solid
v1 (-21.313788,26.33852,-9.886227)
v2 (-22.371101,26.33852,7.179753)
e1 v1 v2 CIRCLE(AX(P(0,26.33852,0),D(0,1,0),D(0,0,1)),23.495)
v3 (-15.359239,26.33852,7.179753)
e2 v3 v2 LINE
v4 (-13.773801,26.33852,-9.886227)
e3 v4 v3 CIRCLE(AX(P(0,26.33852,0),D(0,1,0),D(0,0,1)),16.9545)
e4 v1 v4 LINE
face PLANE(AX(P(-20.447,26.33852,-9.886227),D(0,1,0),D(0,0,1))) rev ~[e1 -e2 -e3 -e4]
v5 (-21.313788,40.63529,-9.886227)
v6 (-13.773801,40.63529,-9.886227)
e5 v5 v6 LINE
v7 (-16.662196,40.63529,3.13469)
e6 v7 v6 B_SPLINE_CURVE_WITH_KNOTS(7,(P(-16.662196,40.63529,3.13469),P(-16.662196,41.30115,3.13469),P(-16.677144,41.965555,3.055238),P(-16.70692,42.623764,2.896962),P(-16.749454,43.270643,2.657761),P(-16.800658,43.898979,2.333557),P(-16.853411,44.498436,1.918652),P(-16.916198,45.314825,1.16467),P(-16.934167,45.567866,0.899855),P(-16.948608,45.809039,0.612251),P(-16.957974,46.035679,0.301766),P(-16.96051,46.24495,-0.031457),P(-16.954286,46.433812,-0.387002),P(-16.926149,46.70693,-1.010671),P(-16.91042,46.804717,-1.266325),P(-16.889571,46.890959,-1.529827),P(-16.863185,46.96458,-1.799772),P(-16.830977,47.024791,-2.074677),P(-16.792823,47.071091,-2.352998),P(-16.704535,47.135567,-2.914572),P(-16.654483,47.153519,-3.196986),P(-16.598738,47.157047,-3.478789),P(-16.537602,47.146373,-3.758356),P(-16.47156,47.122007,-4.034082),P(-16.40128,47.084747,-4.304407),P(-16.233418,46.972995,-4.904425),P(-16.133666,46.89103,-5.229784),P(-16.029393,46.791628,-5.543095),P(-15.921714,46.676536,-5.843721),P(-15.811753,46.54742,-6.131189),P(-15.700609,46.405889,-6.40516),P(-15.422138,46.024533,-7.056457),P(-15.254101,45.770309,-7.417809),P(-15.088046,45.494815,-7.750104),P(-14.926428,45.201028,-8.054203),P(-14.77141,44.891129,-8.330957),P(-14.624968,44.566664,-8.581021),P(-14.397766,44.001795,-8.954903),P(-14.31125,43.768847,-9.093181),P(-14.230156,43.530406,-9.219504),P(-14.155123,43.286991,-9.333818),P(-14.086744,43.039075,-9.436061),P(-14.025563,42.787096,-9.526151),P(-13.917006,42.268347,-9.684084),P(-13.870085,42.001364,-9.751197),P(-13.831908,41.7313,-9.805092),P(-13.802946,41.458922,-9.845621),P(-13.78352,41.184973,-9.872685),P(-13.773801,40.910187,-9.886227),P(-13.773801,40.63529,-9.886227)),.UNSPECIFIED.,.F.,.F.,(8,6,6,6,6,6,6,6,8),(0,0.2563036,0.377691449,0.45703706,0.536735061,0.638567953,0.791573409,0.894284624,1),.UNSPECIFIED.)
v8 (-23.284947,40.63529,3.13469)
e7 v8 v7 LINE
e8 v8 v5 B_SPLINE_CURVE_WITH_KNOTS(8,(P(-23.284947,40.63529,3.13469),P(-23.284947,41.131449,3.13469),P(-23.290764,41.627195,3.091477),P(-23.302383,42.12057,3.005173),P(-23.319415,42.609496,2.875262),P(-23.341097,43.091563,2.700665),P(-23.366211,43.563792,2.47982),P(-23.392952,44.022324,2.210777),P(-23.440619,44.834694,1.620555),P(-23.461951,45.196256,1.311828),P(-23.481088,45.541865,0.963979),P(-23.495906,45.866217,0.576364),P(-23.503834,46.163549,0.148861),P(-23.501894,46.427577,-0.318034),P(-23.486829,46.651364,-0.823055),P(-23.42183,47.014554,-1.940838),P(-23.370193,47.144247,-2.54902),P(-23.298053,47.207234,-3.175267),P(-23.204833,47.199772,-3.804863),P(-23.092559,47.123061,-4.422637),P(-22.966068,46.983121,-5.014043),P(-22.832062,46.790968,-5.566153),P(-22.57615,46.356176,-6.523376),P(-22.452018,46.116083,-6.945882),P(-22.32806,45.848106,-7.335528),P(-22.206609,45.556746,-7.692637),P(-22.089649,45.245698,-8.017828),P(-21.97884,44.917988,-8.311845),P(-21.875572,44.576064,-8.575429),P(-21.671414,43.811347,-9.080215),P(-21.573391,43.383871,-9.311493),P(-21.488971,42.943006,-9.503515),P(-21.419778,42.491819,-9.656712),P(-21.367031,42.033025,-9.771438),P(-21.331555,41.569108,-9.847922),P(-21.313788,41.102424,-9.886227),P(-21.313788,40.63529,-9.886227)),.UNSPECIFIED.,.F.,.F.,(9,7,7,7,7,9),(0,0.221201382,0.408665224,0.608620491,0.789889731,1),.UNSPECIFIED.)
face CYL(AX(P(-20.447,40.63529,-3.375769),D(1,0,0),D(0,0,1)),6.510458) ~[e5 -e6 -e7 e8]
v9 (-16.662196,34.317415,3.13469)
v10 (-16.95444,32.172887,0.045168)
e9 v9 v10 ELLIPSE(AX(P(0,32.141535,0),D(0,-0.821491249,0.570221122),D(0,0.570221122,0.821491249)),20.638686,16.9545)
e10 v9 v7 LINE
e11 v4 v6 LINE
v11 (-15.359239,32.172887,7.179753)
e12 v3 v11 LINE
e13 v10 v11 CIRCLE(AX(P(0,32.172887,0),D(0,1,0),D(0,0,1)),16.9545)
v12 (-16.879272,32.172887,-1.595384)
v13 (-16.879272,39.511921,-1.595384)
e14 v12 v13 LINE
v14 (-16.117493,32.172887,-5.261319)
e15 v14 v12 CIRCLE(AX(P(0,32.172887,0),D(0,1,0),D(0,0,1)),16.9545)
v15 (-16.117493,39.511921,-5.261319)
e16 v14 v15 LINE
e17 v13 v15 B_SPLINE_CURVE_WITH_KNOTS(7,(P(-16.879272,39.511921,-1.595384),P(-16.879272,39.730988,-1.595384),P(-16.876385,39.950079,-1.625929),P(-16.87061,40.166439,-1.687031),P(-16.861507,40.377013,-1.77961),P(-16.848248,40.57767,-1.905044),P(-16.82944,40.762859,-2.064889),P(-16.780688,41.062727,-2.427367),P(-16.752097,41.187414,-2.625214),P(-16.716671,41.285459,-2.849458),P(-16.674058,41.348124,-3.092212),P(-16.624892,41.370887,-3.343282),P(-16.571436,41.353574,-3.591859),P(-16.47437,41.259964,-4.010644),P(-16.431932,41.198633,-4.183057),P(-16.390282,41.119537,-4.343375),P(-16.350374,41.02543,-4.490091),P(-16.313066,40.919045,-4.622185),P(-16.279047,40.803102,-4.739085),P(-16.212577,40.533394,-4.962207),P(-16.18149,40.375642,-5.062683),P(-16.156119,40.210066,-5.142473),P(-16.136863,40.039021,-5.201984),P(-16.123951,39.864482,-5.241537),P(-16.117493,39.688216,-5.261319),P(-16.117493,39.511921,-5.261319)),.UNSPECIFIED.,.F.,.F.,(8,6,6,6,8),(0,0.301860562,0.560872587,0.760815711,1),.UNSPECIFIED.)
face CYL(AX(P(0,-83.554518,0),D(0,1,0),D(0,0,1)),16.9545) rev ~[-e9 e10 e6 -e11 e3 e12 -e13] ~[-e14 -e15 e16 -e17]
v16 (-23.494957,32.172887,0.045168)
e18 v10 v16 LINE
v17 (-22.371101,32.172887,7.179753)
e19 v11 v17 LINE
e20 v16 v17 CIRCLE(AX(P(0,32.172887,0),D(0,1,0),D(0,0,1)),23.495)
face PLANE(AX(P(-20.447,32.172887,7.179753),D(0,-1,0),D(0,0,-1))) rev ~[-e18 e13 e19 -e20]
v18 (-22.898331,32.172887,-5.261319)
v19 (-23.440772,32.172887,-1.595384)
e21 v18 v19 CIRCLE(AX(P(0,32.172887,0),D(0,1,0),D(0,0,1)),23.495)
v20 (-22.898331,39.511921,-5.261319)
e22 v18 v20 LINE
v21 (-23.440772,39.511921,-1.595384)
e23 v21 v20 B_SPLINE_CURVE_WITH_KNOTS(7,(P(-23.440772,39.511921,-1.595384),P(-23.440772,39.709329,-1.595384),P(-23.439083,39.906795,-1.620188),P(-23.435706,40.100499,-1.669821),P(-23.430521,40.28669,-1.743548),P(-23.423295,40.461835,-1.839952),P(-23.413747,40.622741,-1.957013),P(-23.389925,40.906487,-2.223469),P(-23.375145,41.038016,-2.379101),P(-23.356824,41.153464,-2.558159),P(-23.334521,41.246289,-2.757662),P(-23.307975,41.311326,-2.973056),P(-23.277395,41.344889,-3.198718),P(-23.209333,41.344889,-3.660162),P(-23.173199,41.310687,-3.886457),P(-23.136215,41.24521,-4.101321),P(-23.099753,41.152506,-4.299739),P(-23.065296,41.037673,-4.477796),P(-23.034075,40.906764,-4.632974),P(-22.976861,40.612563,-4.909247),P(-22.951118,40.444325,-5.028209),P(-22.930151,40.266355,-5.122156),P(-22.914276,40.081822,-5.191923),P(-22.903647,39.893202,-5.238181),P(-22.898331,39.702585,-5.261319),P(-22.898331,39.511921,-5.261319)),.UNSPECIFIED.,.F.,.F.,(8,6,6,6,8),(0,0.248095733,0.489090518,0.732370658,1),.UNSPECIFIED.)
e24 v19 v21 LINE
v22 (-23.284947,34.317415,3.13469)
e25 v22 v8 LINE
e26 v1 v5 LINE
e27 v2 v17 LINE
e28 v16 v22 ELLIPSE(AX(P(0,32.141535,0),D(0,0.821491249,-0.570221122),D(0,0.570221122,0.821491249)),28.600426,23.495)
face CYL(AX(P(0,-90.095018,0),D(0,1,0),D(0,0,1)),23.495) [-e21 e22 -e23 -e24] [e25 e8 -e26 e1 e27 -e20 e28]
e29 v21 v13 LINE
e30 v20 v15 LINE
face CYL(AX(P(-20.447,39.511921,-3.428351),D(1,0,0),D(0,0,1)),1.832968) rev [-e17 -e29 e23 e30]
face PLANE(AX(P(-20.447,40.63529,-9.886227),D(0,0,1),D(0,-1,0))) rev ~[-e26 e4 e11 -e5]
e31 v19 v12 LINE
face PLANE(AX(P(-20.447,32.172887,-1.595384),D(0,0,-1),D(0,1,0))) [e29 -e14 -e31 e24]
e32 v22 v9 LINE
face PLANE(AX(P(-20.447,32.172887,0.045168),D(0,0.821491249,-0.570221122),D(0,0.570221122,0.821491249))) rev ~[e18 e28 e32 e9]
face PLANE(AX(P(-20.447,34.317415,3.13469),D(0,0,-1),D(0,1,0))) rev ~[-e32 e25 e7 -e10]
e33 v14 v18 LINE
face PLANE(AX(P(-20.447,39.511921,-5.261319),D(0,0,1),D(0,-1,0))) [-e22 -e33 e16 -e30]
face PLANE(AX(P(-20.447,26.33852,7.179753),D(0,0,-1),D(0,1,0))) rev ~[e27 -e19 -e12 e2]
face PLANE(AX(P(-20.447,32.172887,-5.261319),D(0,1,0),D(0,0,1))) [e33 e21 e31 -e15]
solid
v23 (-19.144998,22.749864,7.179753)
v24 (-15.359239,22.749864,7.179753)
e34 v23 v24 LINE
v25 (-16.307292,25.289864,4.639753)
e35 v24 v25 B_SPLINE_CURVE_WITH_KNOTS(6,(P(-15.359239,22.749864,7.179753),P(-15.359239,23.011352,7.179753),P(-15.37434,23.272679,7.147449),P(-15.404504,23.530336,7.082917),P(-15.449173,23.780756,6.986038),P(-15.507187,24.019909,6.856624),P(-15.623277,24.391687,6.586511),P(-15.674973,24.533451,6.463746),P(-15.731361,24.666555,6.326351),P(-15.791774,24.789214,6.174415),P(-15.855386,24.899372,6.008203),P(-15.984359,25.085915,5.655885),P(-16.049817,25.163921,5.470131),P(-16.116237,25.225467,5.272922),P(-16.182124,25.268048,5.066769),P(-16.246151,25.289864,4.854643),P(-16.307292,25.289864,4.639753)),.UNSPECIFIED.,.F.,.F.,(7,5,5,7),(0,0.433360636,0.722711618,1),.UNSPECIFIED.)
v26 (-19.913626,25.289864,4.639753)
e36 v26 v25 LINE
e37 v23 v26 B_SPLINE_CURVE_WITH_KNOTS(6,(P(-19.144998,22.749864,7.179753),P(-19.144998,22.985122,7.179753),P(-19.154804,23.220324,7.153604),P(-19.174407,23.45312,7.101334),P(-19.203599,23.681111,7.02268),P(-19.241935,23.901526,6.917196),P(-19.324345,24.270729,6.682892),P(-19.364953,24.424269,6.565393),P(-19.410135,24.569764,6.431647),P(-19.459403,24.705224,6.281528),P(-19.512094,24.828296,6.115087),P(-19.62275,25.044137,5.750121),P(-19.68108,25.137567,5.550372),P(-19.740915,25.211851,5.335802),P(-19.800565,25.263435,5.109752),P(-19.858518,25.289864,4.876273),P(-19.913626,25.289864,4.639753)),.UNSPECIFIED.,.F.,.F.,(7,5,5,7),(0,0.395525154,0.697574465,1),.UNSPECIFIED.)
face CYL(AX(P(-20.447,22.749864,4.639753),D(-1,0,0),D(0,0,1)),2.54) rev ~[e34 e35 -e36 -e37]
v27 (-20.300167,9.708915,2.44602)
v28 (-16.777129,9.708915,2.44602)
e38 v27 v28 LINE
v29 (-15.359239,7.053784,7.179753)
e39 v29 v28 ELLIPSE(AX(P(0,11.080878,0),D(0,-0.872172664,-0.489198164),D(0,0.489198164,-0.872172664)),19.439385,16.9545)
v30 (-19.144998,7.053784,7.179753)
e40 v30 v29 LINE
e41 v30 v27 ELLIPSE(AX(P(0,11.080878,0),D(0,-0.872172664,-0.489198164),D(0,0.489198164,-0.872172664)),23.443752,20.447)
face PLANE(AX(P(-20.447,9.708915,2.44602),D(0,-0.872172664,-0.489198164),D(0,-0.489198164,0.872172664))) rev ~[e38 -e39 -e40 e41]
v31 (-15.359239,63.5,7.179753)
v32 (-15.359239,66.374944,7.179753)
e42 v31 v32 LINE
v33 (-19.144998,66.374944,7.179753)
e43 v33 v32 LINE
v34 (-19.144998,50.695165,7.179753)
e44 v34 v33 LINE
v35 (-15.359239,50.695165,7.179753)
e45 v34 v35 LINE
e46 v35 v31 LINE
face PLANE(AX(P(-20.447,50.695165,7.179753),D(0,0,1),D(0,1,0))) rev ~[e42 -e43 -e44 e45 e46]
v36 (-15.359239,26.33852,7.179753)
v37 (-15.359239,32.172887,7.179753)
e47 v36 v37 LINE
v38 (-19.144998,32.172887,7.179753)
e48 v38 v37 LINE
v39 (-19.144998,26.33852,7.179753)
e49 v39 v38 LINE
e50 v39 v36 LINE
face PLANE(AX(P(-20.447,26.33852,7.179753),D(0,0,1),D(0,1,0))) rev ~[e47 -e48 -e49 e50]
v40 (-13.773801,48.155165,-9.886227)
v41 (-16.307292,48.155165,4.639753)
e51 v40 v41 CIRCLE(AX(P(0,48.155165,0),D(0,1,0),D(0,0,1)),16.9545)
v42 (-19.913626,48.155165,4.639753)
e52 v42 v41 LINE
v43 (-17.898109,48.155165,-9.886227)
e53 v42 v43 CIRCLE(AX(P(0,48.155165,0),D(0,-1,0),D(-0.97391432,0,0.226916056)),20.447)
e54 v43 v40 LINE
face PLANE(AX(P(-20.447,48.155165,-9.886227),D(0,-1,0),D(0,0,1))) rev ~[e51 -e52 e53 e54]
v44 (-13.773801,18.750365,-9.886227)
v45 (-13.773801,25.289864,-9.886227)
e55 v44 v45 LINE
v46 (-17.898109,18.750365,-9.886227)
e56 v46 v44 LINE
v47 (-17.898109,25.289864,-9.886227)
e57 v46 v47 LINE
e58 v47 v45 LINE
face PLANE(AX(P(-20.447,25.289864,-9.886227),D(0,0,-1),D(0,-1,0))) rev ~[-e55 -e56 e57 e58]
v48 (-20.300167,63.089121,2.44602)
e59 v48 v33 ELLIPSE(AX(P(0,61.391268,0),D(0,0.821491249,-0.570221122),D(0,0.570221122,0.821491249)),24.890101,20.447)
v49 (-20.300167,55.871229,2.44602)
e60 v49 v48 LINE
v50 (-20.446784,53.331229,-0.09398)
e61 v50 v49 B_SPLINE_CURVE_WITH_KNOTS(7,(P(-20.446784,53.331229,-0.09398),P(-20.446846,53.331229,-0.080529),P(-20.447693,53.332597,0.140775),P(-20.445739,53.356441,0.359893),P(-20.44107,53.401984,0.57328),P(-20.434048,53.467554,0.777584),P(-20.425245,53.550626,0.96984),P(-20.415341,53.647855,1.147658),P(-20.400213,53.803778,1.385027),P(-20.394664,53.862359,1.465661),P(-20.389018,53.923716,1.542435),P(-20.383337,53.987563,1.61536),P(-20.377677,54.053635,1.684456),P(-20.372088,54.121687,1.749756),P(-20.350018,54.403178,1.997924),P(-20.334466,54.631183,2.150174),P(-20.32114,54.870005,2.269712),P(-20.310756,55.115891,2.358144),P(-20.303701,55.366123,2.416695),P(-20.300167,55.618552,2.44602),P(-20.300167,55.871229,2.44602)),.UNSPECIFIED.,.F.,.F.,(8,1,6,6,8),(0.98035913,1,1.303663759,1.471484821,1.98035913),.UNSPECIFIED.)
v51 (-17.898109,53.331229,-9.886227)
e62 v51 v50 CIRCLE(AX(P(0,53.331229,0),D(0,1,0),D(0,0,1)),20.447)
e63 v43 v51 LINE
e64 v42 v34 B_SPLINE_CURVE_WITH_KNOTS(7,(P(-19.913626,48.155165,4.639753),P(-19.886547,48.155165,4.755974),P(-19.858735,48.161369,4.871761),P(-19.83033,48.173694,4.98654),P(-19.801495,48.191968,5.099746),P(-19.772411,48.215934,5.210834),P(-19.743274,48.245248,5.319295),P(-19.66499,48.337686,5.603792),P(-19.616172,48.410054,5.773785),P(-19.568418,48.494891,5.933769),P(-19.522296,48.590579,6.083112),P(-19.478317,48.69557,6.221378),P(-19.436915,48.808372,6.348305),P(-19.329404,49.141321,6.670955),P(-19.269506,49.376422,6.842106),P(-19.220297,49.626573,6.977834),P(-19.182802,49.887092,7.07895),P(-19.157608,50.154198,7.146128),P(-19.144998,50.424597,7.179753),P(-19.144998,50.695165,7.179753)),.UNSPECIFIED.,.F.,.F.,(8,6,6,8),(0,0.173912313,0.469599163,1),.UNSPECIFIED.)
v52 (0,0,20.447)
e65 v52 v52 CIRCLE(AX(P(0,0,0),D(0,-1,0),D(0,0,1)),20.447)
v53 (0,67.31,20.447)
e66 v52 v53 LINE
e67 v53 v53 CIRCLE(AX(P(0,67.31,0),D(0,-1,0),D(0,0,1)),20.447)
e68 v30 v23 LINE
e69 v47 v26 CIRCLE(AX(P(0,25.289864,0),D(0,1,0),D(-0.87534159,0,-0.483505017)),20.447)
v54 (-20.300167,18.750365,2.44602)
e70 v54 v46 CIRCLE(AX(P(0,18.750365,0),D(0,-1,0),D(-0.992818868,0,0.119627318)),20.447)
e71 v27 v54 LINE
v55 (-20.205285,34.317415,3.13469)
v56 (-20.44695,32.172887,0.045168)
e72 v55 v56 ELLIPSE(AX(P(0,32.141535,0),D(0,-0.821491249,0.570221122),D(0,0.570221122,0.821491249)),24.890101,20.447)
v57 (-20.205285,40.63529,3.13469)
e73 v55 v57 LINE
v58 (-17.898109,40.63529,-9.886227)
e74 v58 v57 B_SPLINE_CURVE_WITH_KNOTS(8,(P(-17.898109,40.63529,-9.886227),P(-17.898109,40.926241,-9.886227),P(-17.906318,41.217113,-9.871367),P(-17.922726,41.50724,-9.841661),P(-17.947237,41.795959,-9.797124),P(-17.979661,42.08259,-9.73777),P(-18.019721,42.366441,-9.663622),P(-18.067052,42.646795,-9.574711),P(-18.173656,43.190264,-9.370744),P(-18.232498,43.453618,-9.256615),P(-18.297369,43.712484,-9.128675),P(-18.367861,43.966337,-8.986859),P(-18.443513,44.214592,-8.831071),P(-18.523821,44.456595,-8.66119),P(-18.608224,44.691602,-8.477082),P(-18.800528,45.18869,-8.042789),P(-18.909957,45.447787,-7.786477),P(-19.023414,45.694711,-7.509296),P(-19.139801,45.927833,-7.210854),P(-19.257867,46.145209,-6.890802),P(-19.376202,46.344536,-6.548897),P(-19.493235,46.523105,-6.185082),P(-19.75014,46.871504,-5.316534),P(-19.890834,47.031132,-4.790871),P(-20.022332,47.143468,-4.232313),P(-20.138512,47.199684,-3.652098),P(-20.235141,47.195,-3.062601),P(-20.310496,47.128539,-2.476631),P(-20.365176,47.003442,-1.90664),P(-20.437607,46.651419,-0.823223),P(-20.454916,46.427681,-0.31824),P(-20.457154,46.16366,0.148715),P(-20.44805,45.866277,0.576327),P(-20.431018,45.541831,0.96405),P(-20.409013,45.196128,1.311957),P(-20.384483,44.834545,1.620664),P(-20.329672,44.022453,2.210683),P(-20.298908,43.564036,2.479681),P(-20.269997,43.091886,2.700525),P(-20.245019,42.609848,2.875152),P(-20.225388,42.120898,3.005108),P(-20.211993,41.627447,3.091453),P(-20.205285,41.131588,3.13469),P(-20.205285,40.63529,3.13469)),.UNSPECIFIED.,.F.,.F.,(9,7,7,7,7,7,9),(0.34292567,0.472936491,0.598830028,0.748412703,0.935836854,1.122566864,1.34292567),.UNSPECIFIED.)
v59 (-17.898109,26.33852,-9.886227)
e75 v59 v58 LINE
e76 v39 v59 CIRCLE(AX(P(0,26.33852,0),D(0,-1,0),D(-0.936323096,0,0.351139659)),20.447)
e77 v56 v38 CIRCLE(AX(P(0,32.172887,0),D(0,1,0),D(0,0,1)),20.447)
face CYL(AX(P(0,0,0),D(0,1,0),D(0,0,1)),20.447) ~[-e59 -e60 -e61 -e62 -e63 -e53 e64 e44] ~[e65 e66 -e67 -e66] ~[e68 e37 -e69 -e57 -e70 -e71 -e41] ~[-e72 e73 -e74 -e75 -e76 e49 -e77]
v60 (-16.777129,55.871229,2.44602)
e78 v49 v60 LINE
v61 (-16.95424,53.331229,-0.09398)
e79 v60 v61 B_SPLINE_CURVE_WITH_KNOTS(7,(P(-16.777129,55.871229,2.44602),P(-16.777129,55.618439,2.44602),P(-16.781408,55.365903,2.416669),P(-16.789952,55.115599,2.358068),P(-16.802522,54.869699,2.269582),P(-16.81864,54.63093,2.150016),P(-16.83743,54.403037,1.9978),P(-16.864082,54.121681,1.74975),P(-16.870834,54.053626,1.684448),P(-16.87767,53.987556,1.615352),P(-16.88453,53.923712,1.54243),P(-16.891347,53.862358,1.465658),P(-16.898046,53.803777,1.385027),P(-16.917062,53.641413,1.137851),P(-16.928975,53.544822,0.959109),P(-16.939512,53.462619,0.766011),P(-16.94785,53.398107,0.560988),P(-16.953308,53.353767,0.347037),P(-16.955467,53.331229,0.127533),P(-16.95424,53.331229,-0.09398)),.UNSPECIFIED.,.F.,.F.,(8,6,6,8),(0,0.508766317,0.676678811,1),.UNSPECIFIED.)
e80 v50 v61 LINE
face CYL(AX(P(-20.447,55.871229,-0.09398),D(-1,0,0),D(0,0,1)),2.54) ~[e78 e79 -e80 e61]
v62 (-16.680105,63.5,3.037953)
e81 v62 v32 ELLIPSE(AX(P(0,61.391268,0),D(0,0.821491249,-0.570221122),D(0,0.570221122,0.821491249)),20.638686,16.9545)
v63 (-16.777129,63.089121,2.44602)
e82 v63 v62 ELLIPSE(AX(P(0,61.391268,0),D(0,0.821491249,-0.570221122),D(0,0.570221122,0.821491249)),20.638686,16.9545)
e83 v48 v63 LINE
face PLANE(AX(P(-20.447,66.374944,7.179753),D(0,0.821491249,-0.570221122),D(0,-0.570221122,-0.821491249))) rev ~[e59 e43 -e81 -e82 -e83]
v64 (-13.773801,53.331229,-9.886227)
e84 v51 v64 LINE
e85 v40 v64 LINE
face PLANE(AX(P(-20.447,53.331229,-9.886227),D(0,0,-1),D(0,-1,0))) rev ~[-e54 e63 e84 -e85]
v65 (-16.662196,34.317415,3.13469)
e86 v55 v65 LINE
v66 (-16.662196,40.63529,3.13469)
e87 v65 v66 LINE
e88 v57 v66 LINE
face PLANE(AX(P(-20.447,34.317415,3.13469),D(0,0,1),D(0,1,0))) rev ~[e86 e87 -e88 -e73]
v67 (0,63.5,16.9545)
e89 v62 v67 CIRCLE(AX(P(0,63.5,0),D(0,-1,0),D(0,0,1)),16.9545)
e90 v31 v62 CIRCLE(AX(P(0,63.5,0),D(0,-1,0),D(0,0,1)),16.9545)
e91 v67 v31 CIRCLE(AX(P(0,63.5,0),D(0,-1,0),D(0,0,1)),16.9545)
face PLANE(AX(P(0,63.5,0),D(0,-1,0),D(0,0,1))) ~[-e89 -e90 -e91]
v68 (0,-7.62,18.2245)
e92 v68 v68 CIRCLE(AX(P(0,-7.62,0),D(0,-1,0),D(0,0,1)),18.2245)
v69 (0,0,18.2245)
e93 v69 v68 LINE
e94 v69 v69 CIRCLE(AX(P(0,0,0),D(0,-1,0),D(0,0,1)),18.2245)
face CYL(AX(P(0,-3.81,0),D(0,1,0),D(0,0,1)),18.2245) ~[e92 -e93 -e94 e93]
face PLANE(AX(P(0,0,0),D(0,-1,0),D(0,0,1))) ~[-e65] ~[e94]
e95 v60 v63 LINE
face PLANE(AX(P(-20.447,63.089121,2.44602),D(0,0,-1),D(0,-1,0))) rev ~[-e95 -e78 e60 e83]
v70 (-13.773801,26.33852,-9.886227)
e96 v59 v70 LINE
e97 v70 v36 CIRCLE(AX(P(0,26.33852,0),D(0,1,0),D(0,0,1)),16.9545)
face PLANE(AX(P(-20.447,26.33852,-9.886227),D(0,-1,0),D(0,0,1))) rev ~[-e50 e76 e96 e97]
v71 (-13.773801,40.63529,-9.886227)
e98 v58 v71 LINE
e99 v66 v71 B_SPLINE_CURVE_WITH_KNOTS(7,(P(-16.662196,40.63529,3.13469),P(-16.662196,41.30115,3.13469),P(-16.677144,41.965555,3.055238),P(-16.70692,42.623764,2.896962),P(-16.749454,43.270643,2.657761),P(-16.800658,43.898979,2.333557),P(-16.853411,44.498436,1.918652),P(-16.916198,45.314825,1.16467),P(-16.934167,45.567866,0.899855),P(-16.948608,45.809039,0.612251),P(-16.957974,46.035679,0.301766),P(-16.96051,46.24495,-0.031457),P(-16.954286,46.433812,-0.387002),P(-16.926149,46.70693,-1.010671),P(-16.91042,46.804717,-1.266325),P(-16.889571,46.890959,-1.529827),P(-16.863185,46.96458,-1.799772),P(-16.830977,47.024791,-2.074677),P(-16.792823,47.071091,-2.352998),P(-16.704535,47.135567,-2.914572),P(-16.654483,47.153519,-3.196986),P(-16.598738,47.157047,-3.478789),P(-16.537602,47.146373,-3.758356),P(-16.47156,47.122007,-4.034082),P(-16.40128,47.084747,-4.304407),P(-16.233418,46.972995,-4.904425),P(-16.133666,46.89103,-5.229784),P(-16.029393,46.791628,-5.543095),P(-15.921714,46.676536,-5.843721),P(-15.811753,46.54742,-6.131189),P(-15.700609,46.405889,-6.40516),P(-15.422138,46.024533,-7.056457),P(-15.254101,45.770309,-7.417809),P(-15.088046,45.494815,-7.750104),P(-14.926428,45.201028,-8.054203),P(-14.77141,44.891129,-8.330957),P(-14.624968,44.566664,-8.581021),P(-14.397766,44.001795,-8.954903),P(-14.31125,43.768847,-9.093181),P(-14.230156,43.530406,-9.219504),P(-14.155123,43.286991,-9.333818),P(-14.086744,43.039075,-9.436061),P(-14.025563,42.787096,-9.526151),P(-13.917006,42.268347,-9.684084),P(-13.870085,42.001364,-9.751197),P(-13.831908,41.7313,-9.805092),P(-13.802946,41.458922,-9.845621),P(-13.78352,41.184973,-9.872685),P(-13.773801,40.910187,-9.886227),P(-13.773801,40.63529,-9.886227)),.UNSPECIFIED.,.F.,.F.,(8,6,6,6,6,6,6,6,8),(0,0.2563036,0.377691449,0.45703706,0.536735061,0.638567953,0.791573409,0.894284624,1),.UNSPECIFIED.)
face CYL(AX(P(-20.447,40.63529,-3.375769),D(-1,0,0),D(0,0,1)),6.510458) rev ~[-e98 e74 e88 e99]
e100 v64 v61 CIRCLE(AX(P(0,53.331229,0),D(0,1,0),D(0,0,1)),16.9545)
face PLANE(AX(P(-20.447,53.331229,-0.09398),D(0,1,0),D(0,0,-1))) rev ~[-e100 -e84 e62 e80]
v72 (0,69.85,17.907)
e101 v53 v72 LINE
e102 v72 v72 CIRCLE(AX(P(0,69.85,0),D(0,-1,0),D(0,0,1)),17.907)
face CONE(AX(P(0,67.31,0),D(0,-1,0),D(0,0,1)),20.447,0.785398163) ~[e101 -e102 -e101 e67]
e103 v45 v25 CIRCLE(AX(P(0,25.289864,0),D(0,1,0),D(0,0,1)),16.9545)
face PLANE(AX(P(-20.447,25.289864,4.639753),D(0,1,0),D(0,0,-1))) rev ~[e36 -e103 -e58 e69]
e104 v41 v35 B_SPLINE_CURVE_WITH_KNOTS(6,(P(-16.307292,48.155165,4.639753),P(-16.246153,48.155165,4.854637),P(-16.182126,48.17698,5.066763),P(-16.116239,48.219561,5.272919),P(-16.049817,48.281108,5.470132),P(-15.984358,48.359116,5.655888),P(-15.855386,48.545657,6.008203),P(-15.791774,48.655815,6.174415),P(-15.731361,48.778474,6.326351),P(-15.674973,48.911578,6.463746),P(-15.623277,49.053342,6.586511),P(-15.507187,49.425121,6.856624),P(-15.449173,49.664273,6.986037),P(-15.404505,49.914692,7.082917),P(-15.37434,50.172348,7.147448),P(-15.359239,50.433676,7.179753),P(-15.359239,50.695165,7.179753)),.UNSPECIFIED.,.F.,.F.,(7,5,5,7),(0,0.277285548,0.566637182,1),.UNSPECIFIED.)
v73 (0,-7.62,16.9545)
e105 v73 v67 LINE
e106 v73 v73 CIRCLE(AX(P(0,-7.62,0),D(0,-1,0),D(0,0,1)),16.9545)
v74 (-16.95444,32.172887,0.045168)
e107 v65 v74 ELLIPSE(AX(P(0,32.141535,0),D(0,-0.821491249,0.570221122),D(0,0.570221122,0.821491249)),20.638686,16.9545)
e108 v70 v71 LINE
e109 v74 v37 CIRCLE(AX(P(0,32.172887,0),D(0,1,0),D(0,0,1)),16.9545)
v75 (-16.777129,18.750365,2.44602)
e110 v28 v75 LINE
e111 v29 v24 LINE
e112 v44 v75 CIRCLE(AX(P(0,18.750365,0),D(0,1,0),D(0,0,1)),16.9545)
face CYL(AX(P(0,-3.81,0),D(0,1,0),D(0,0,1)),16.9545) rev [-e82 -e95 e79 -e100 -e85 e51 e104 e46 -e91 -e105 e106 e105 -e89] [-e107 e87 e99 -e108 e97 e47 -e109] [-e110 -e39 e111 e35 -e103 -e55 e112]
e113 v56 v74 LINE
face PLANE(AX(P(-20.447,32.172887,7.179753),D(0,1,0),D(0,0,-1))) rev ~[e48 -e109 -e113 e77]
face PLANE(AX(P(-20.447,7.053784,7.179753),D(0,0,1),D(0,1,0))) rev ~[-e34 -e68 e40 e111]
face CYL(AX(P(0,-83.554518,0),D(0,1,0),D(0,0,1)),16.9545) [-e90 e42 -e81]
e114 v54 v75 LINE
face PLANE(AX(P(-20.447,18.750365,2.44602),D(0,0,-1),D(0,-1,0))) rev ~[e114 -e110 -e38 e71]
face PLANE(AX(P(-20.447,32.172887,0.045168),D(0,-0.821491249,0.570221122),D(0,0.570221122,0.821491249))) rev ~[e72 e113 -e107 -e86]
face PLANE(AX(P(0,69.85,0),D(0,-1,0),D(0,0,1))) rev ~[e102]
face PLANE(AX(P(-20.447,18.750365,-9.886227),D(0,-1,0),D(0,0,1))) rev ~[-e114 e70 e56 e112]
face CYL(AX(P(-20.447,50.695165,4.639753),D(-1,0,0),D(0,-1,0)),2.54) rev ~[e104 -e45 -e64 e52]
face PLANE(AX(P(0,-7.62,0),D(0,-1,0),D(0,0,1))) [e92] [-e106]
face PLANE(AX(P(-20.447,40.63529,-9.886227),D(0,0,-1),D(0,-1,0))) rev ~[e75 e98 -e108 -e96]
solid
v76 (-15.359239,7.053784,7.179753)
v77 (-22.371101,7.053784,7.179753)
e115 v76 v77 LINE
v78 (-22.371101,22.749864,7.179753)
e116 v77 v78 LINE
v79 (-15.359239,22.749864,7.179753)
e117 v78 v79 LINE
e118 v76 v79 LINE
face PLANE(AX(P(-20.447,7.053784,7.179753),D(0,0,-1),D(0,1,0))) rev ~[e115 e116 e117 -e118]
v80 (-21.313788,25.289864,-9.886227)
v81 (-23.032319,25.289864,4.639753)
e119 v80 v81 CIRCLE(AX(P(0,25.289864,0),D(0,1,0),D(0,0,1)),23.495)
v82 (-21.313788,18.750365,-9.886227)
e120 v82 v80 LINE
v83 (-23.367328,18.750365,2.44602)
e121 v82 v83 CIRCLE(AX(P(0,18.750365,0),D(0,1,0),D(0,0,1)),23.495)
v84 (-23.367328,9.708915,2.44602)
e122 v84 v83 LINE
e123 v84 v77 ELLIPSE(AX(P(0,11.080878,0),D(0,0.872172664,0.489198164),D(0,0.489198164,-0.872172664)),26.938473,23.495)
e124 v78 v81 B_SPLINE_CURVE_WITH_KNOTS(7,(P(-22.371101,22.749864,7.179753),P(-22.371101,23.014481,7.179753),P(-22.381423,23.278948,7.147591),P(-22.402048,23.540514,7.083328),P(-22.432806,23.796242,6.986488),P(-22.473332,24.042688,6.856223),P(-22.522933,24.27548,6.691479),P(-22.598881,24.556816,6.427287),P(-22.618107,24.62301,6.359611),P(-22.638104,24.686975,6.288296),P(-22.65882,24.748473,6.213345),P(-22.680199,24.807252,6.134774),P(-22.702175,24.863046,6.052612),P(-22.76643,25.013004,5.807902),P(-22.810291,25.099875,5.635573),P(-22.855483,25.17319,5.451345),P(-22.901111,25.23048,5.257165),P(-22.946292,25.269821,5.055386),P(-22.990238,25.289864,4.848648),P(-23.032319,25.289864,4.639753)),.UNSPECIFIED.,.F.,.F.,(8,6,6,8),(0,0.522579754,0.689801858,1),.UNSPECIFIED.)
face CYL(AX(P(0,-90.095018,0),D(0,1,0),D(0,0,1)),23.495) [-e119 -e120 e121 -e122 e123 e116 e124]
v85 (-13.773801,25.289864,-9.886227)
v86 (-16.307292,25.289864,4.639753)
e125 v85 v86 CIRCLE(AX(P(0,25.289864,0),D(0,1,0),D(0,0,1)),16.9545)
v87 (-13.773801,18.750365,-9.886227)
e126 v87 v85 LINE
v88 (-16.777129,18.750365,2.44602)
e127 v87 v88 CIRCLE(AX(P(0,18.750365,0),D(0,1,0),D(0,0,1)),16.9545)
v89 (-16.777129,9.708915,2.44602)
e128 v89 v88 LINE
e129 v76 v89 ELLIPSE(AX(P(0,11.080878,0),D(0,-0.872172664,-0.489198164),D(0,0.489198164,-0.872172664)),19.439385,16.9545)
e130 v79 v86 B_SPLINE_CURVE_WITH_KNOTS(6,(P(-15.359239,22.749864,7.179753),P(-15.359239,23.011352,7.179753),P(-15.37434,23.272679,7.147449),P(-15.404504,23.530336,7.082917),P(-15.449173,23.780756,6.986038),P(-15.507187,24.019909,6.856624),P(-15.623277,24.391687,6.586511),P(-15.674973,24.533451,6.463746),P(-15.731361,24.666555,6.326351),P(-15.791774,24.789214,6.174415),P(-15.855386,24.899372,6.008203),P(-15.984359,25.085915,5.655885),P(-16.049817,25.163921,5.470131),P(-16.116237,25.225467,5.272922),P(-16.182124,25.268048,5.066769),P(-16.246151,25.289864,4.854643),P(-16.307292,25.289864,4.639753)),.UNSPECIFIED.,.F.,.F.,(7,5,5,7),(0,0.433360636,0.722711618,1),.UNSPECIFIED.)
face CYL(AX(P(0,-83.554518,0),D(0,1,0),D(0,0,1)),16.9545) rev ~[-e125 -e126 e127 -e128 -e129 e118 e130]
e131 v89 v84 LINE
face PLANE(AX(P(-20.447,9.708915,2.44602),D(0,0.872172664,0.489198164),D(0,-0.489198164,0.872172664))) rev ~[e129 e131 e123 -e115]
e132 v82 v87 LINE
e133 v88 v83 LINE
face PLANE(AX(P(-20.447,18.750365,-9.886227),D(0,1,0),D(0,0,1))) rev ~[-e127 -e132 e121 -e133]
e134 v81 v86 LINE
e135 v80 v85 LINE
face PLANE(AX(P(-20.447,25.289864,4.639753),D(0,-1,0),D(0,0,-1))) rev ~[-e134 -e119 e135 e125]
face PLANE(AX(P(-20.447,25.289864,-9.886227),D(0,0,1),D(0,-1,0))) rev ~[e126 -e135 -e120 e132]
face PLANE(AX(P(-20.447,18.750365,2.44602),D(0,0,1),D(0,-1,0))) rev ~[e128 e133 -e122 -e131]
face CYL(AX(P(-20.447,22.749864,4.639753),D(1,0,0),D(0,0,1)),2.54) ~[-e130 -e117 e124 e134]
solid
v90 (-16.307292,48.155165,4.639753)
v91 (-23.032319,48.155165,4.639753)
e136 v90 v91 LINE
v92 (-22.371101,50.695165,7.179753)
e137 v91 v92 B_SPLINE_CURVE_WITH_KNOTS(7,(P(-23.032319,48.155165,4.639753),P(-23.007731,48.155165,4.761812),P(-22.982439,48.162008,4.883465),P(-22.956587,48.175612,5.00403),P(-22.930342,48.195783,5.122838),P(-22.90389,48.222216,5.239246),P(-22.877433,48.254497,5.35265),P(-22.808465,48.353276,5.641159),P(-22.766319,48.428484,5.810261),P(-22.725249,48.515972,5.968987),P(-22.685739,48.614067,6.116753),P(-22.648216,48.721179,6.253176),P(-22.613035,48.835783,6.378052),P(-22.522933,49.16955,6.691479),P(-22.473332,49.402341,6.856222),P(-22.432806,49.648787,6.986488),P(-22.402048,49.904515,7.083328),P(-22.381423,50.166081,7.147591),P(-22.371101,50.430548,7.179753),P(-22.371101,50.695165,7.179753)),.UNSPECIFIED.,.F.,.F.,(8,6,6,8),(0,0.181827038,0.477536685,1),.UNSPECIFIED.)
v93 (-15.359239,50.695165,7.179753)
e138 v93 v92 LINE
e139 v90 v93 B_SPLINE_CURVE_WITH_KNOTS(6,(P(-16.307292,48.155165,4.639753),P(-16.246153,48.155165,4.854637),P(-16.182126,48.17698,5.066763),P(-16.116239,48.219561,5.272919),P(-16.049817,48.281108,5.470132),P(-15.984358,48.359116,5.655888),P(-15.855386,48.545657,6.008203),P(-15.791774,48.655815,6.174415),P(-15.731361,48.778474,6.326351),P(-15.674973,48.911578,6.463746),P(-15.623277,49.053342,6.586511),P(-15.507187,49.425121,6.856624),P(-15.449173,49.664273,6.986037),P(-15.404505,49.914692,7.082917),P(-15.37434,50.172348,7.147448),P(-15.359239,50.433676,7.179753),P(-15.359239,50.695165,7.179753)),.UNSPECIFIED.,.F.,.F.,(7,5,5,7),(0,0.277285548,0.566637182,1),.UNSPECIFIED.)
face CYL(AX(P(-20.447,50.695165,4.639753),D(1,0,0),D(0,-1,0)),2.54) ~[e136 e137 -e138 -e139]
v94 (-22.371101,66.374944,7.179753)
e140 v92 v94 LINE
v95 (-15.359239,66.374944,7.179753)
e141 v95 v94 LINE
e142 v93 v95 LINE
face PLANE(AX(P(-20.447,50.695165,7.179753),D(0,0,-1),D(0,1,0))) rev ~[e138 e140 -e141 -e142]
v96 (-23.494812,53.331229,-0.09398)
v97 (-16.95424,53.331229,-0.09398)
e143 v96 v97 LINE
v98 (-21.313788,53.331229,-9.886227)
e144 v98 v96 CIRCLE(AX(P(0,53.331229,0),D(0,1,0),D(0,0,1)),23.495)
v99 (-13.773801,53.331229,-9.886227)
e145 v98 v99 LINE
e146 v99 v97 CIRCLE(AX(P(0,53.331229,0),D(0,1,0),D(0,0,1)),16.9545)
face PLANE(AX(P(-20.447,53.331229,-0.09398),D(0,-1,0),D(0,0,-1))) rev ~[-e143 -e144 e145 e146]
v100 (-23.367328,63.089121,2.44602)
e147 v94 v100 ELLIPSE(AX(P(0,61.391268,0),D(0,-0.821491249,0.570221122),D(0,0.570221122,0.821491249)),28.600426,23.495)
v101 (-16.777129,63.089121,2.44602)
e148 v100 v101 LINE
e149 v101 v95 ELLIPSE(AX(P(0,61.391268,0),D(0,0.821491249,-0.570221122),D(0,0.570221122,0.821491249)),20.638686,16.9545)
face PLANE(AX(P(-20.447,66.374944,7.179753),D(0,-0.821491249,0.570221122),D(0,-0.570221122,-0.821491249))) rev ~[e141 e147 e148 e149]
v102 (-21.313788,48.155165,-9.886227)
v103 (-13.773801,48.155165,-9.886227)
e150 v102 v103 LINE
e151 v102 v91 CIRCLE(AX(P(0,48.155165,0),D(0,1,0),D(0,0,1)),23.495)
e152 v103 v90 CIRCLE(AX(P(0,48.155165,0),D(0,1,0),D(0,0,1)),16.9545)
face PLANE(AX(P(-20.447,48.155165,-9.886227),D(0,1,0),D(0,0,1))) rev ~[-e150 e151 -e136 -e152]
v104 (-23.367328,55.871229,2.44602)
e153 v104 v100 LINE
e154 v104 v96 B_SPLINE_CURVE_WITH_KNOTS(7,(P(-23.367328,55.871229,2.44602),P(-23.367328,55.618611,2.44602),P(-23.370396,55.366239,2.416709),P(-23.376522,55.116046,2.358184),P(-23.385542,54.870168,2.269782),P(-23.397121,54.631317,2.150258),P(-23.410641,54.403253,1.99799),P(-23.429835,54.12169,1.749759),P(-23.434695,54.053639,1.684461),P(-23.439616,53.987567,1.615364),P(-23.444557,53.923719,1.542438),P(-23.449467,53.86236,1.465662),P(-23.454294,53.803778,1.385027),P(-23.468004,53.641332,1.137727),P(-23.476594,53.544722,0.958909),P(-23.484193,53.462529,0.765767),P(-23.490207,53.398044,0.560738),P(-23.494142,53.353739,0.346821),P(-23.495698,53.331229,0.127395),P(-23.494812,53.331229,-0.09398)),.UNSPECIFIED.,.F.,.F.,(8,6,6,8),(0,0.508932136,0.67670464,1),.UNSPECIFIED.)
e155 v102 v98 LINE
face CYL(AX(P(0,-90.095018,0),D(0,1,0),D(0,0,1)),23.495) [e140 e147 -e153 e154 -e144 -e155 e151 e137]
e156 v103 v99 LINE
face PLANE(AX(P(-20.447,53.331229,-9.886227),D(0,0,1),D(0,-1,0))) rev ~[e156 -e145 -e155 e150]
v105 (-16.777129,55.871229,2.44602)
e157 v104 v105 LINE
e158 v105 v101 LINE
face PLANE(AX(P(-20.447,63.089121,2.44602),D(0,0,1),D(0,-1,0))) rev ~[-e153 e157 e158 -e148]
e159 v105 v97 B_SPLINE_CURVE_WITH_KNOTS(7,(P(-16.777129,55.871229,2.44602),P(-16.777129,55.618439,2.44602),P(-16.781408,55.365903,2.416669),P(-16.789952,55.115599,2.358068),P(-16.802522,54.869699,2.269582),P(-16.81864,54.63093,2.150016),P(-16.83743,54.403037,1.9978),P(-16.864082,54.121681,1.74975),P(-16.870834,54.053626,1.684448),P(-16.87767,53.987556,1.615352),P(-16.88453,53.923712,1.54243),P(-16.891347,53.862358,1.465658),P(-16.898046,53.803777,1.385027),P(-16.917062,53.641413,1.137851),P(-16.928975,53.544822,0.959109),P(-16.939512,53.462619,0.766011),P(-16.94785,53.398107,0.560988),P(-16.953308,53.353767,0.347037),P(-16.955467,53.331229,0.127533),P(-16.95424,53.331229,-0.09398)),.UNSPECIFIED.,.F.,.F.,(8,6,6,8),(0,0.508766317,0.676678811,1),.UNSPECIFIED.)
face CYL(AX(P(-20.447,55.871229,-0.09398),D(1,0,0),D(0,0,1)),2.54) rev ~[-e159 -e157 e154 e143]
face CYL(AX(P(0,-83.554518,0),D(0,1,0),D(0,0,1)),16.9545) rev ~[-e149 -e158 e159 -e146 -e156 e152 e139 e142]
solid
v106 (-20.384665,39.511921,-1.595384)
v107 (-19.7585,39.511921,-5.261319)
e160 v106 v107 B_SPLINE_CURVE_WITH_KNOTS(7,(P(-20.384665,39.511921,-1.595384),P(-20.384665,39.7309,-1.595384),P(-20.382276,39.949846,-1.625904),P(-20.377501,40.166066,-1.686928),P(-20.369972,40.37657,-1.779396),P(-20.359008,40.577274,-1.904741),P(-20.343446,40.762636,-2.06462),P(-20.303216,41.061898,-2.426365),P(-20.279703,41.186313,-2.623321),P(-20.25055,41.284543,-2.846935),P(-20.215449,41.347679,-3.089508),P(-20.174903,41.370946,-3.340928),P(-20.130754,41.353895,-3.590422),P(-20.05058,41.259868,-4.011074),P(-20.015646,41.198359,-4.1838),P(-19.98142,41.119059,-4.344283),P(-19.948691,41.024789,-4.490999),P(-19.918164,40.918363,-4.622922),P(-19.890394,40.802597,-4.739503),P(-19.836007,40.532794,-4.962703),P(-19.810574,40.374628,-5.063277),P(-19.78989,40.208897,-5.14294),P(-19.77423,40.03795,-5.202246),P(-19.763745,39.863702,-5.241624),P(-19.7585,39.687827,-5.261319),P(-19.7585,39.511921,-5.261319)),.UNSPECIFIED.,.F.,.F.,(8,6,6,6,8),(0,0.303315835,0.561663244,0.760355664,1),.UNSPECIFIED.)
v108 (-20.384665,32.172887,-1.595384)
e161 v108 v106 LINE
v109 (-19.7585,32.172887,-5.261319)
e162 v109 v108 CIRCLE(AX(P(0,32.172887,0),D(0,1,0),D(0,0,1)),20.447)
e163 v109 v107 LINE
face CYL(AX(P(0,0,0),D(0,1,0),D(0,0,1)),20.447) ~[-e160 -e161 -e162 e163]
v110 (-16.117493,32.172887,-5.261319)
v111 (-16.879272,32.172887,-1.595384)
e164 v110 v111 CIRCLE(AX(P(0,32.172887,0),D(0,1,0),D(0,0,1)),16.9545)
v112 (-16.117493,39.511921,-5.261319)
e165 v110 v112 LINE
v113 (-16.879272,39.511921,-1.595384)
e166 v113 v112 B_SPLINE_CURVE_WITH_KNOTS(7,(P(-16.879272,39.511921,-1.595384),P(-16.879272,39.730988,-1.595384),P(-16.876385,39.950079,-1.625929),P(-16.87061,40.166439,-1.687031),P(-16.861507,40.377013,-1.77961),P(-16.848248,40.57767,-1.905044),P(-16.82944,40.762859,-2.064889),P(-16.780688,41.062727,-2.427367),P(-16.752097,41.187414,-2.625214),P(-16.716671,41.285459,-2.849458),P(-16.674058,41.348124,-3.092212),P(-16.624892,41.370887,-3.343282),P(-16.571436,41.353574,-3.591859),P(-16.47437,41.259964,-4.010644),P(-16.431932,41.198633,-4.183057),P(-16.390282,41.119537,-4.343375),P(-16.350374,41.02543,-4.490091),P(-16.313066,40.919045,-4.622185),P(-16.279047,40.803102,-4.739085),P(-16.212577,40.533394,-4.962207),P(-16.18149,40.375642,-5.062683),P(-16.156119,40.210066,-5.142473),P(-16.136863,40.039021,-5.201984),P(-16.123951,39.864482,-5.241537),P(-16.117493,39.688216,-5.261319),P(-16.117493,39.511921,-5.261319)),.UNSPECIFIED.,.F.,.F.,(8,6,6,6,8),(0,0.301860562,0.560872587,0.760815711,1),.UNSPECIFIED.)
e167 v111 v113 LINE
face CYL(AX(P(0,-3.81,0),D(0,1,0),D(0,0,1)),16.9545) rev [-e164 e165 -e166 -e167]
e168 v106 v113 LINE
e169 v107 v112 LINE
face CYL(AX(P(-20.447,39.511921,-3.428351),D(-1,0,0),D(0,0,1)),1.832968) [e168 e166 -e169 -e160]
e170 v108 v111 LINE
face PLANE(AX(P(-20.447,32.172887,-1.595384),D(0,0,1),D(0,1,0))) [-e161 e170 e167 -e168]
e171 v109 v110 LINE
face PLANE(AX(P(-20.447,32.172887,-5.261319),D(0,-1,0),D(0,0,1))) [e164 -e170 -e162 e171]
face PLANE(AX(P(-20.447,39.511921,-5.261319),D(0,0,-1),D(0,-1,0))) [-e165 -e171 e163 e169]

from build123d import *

# Parameters (mm, degrees)
CHAMFER1_SIZE                        = 2.54
SKETCH6_R                            = 18.2245
SKETCH6_R_2                          = 16.9545
BOSS_EXTRUDE2_DEPTH                  = 3.81
CUT_EXTRUDE3_REACH                   = 85.483
CUT_EXTRUDE3_END_RADIUS              = 16.9545
BOSS_EXTRUDE3_REACH                  = 85.483
BOSS_EXTRUDE3_END_RADIUS             = 16.9545
BOSS_EXTRUDE3_DIRECTION_2_REACH      = 85.483
BOSS_EXTRUDE3_DIRECTION_2_END_RADIUS = 23.495


with BuildPart() as part:
    # Sketch2 → Revolve1 (revolve)
    with BuildSketch(Plane.XY, mode=Mode.PRIVATE) as revolve1_sk:
        Polygon((20.447, 0), (20.447, 69.85), (0, 69.85), (0, 63.5), (16.9545, 63.5), (16.9545, -3.81), (18.2245, -3.81), (18.2245, 0), align=None)
    revolve(revolve1_sk.sketch.rotate(Axis((0, 86.868, 0), (0, -1, 0)), 90), axis=Axis((0, 86.868, 0), (0, -1, 0)))

    # Chamfer1
    chamfer1_edges = [part.edges().sort_by_distance(p)[0] for p in [
        (0, 69.85, -20.447),
    ]]
    chamfer(chamfer1_edges, length=CHAMFER1_SIZE)

    # Sketch6 → Boss-Extrude2 (add)
    with BuildSketch(Plane.XZ.offset(3.81)):
        with Locations(Location((0, 0, 0), (0, 0, 90))):
            Circle(SKETCH6_R)
        with Locations(Location((0, 0, 0), (0, 0, 90))):
            Circle(SKETCH6_R_2, mode=Mode.SUBTRACT)
    extrude(amount=BOSS_EXTRUDE2_DEPTH)

    # Cut-Extrude3: up to this cylinder (the profile starts outside it)
    cut_extrude3_end = Plane(origin=(0, 36.232285, 0), z_dir=(0, 1, 0)) * Cylinder(CUT_EXTRUDE3_END_RADIUS, 239.573606, mode=Mode.PRIVATE)
    # Sketch4 → Cut-Extrude3 (cut, up to the surface)
    with BuildSketch(Plane.ZY.offset(20.447), mode=Mode.PRIVATE) as cut_extrude3_sk1:
        with BuildLine():
            Line((-9.886227081, 18.750365384), (2.44601977, 18.750365384))
            Line((2.44601977, 18.750365384), (2.44601977, 9.708915489))
            Line((2.44601977, 9.708915489), (7.179752601, 7.05378365))
            Line((7.179752601, 7.05378365), (7.179752601, 22.749864357))
            ThreePointArc((7.179752601, 22.749864357), (6.435803825, 24.545915581), (4.639752601, 25.289864357))
            Line((4.639752601, 25.289864357), (-9.886227081, 25.289864357))
            Line((-9.886227081, 25.289864357), (-9.886227081, 18.750365384))
        make_face()
    cut_extrude3_tool1 = extrude(cut_extrude3_sk1.sketch, amount=-CUT_EXTRUDE3_REACH, mode=Mode.PRIVATE) - cut_extrude3_end
    add(cut_extrude3_tool1.solids().sort_by_distance((-20.447, 19.382982, 0.508555))[0], mode=Mode.SUBTRACT)
    # Sketch4 → Cut-Extrude3 (cut, up to the surface)
    with BuildSketch(Plane.ZY.offset(20.447), mode=Mode.PRIVATE) as cut_extrude3_sk2:
        with BuildLine():
            Line((-9.886227081, 26.33852022), (7.179752601, 26.33852022))
            Line((7.179752601, 26.33852022), (7.179752601, 32.172887438))
            Line((7.179752601, 32.172887438), (0.045167713, 32.172887438))
            Line((0.045167713, 32.172887438), (3.134689898, 34.31741522))
            Line((3.134689898, 34.31741522), (3.134689898, 40.635289955))
            ThreePointArc((3.134689898, 40.635289955), (-3.375768591, 47.145748444), (-9.886227081, 40.635289955))
            Line((-9.886227081, 40.635289955), (-9.886227081, 26.33852022))
        make_face()
        with BuildLine():
            Line((-5.261318807, 32.172887438), (-1.595383534, 32.172887438))
            Line((-1.595383534, 32.172887438), (-1.595383534, 39.511921236))
            ThreePointArc((-1.595383534, 39.511921236), (-3.428351171, 41.344888872), (-5.261318807, 39.511921236))
            Line((-5.261318807, 39.511921236), (-5.261318807, 32.172887438))
        make_face(mode=Mode.SUBTRACT)
    cut_extrude3_tool2 = extrude(cut_extrude3_sk2.sketch, amount=-CUT_EXTRUDE3_REACH, mode=Mode.PRIVATE) - cut_extrude3_end
    add(cut_extrude3_tool2.solids().sort_by_distance((-20.447, 33.486905, -9.61712))[0], mode=Mode.SUBTRACT)
    # Sketch4 → Cut-Extrude3 (cut, up to the surface)
    with BuildSketch(Plane.ZY.offset(20.447), mode=Mode.PRIVATE) as cut_extrude3_sk3:
        with BuildLine():
            Line((-9.886227081, 48.155164982), (4.639752601, 48.155164982))
            ThreePointArc((4.639752601, 48.155164982), (6.435803825, 48.899113758), (7.179752601, 50.695164982))
            Line((7.179752601, 50.695164982), (7.179752601, 66.374943992))
            Line((7.179752601, 66.374943992), (2.44601977, 63.089121475))
            Line((2.44601977, 63.089121475), (2.44601977, 55.871229104))
            ThreePointArc((2.44601977, 55.871229104), (1.702070994, 54.07517788), (-0.09398023, 53.331229104))
            Line((-0.09398023, 53.331229104), (-9.886227081, 53.331229104))
            Line((-9.886227081, 53.331229104), (-9.886227081, 48.155164982))
        make_face()
    cut_extrude3_tool3 = extrude(cut_extrude3_sk3.sketch, amount=-CUT_EXTRUDE3_REACH, mode=Mode.PRIVATE) - cut_extrude3_end
    add(cut_extrude3_tool3.solids().sort_by_distance((-20.447, 53.081588, -4.990104))[0], mode=Mode.SUBTRACT)


with BuildPart() as cut_extrude3_piece_1:
    # of the separate pieces the step leaves, piece 1, a body of its own (cut_extrude3_pieces)
    add(part.part.solids().sort_by_distance((0, 67.31, 20.447))[0])


with BuildPart() as cut_extrude3_piece_2:
    # of the separate pieces the step leaves, piece 2, a body of its own (cut_extrude3_pieces)
    add(part.part.solids().sort_by_distance((-20.384664834, 32.172887438, -1.595383534))[0])


with BuildPart() as body_3:
    # Boss-Extrude3: up to this cylinder (the profile starts outside it)
    boss_extrude3_end = Plane(origin=(0, 36.232285, 0), z_dir=(0, 1, 0)) * Cylinder(BOSS_EXTRUDE3_END_RADIUS, 239.573606, mode=Mode.PRIVATE)
    # Sketch4_5 → Boss-Extrude3 (new, up to the surface)
    with BuildSketch(Plane.ZY.offset(20.447), mode=Mode.PRIVATE) as boss_extrude3_sk1:
        with BuildLine():
            Line((-9.886227081, 18.750365384), (2.44601977, 18.750365384))
            Line((2.44601977, 18.750365384), (2.44601977, 9.708915489))
            Line((2.44601977, 9.708915489), (7.179752601, 7.05378365))
            Line((7.179752601, 7.05378365), (7.179752601, 22.749864357))
            ThreePointArc((7.179752601, 22.749864357), (6.435803825, 24.545915581), (4.639752601, 25.289864357))
            Line((4.639752601, 25.289864357), (-9.886227081, 25.289864357))
            Line((-9.886227081, 25.289864357), (-9.886227081, 18.750365384))
        make_face()
    boss_extrude3_tool1 = extrude(boss_extrude3_sk1.sketch, amount=-BOSS_EXTRUDE3_REACH, mode=Mode.PRIVATE) - boss_extrude3_end
    add(boss_extrude3_tool1.solids().sort_by_distance((-20.447, 19.382982, 0.508555))[0])
    # Sketch4_5 → Boss-Extrude3 (new, up to the surface)
    with BuildSketch(Plane.ZY.offset(20.447), mode=Mode.PRIVATE) as boss_extrude3_sk2:
        with BuildLine():
            Line((-9.886227081, 26.33852022), (7.179752601, 26.33852022))
            Line((7.179752601, 26.33852022), (7.179752601, 32.172887438))
            Line((7.179752601, 32.172887438), (0.045167713, 32.172887438))
            Line((0.045167713, 32.172887438), (3.134689898, 34.31741522))
            Line((3.134689898, 34.31741522), (3.134689898, 40.635289955))
            ThreePointArc((3.134689898, 40.635289955), (-3.375768591, 47.145748444), (-9.886227081, 40.635289955))
            Line((-9.886227081, 40.635289955), (-9.886227081, 26.33852022))
        make_face()
        with BuildLine():
            Line((-5.261318807, 32.172887438), (-1.595383534, 32.172887438))
            Line((-1.595383534, 32.172887438), (-1.595383534, 39.511921236))
            ThreePointArc((-1.595383534, 39.511921236), (-3.428351171, 41.344888872), (-5.261318807, 39.511921236))
            Line((-5.261318807, 39.511921236), (-5.261318807, 32.172887438))
        make_face(mode=Mode.SUBTRACT)
    boss_extrude3_tool2 = extrude(boss_extrude3_sk2.sketch, amount=-BOSS_EXTRUDE3_REACH, mode=Mode.PRIVATE) - boss_extrude3_end
    add(boss_extrude3_tool2.solids().sort_by_distance((-20.447, 33.486905, -9.61712))[0])
    # Sketch4_5 → Boss-Extrude3 (new, up to the surface)
    with BuildSketch(Plane.ZY.offset(20.447), mode=Mode.PRIVATE) as boss_extrude3_sk3:
        with BuildLine():
            Line((-9.886227081, 48.155164982), (4.639752601, 48.155164982))
            ThreePointArc((4.639752601, 48.155164982), (6.435803825, 48.899113758), (7.179752601, 50.695164982))
            Line((7.179752601, 50.695164982), (7.179752601, 66.374943992))
            Line((7.179752601, 66.374943992), (2.44601977, 63.089121475))
            Line((2.44601977, 63.089121475), (2.44601977, 55.871229104))
            ThreePointArc((2.44601977, 55.871229104), (1.702070994, 54.07517788), (-0.09398023, 53.331229104))
            Line((-0.09398023, 53.331229104), (-9.886227081, 53.331229104))
            Line((-9.886227081, 53.331229104), (-9.886227081, 48.155164982))
        make_face()
    boss_extrude3_tool3 = extrude(boss_extrude3_sk3.sketch, amount=-BOSS_EXTRUDE3_REACH, mode=Mode.PRIVATE) - boss_extrude3_end
    add(boss_extrude3_tool3.solids().sort_by_distance((-20.447, 53.081588, -4.990104))[0])

    # Boss-Extrude3 direction 2: up to this cylinder (the profile starts inside it)
    boss_extrude3_direction_2_end = Plane(origin=(0, 36.232285, 0), z_dir=(0, 1, 0)) * Cylinder(BOSS_EXTRUDE3_DIRECTION_2_END_RADIUS, 252.654606, mode=Mode.PRIVATE)
    # Sketch4_5 → Boss-Extrude3 direction 2 (add, up to the surface)
    with BuildSketch(Plane.ZY.offset(20.447), mode=Mode.PRIVATE) as boss_extrude3_direction_2_sk1:
        with BuildLine():
            Line((-9.886227081, 18.750365384), (2.44601977, 18.750365384))
            Line((2.44601977, 18.750365384), (2.44601977, 9.708915489))
            Line((2.44601977, 9.708915489), (7.179752601, 7.05378365))
            Line((7.179752601, 7.05378365), (7.179752601, 22.749864357))
            ThreePointArc((7.179752601, 22.749864357), (6.435803825, 24.545915581), (4.639752601, 25.289864357))
            Line((4.639752601, 25.289864357), (-9.886227081, 25.289864357))
            Line((-9.886227081, 25.289864357), (-9.886227081, 18.750365384))
        make_face()
    boss_extrude3_direction_2_tool1 = extrude(boss_extrude3_direction_2_sk1.sketch, amount=BOSS_EXTRUDE3_DIRECTION_2_REACH, mode=Mode.PRIVATE) & boss_extrude3_direction_2_end
    add(boss_extrude3_direction_2_tool1.solids().sort_by_distance((-20.447, 19.382982, 0.508555))[0])
    # Sketch4_5 → Boss-Extrude3 direction 2 (add, up to the surface)
    with BuildSketch(Plane.ZY.offset(20.447), mode=Mode.PRIVATE) as boss_extrude3_direction_2_sk2:
        with BuildLine():
            Line((-9.886227081, 26.33852022), (7.179752601, 26.33852022))
            Line((7.179752601, 26.33852022), (7.179752601, 32.172887438))
            Line((7.179752601, 32.172887438), (0.045167713, 32.172887438))
            Line((0.045167713, 32.172887438), (3.134689898, 34.31741522))
            Line((3.134689898, 34.31741522), (3.134689898, 40.635289955))
            ThreePointArc((3.134689898, 40.635289955), (-3.375768591, 47.145748444), (-9.886227081, 40.635289955))
            Line((-9.886227081, 40.635289955), (-9.886227081, 26.33852022))
        make_face()
        with BuildLine():
            Line((-5.261318807, 32.172887438), (-1.595383534, 32.172887438))
            Line((-1.595383534, 32.172887438), (-1.595383534, 39.511921236))
            ThreePointArc((-1.595383534, 39.511921236), (-3.428351171, 41.344888872), (-5.261318807, 39.511921236))
            Line((-5.261318807, 39.511921236), (-5.261318807, 32.172887438))
        make_face(mode=Mode.SUBTRACT)
    boss_extrude3_direction_2_tool2 = extrude(boss_extrude3_direction_2_sk2.sketch, amount=BOSS_EXTRUDE3_DIRECTION_2_REACH, mode=Mode.PRIVATE) & boss_extrude3_direction_2_end
    add(boss_extrude3_direction_2_tool2.solids().sort_by_distance((-20.447, 33.486905, -9.61712))[0])
    # Sketch4_5 → Boss-Extrude3 direction 2 (add, up to the surface)
    with BuildSketch(Plane.ZY.offset(20.447), mode=Mode.PRIVATE) as boss_extrude3_direction_2_sk3:
        with BuildLine():
            Line((-9.886227081, 48.155164982), (4.639752601, 48.155164982))
            ThreePointArc((4.639752601, 48.155164982), (6.435803825, 48.899113758), (7.179752601, 50.695164982))
            Line((7.179752601, 50.695164982), (7.179752601, 66.374943992))
            Line((7.179752601, 66.374943992), (2.44601977, 63.089121475))
            Line((2.44601977, 63.089121475), (2.44601977, 55.871229104))
            ThreePointArc((2.44601977, 55.871229104), (1.702070994, 54.07517788), (-0.09398023, 53.331229104))
            Line((-0.09398023, 53.331229104), (-9.886227081, 53.331229104))
            Line((-9.886227081, 53.331229104), (-9.886227081, 48.155164982))
        make_face()
    boss_extrude3_direction_2_tool3 = extrude(boss_extrude3_direction_2_sk3.sketch, amount=BOSS_EXTRUDE3_DIRECTION_2_REACH, mode=Mode.PRIVATE) & boss_extrude3_direction_2_end
    add(boss_extrude3_direction_2_tool3.solids().sort_by_distance((-20.447, 53.081588, -4.990104))[0])


solid = Compound([cut_extrude3_piece_1.part, cut_extrude3_piece_2.part, body_3.part])
